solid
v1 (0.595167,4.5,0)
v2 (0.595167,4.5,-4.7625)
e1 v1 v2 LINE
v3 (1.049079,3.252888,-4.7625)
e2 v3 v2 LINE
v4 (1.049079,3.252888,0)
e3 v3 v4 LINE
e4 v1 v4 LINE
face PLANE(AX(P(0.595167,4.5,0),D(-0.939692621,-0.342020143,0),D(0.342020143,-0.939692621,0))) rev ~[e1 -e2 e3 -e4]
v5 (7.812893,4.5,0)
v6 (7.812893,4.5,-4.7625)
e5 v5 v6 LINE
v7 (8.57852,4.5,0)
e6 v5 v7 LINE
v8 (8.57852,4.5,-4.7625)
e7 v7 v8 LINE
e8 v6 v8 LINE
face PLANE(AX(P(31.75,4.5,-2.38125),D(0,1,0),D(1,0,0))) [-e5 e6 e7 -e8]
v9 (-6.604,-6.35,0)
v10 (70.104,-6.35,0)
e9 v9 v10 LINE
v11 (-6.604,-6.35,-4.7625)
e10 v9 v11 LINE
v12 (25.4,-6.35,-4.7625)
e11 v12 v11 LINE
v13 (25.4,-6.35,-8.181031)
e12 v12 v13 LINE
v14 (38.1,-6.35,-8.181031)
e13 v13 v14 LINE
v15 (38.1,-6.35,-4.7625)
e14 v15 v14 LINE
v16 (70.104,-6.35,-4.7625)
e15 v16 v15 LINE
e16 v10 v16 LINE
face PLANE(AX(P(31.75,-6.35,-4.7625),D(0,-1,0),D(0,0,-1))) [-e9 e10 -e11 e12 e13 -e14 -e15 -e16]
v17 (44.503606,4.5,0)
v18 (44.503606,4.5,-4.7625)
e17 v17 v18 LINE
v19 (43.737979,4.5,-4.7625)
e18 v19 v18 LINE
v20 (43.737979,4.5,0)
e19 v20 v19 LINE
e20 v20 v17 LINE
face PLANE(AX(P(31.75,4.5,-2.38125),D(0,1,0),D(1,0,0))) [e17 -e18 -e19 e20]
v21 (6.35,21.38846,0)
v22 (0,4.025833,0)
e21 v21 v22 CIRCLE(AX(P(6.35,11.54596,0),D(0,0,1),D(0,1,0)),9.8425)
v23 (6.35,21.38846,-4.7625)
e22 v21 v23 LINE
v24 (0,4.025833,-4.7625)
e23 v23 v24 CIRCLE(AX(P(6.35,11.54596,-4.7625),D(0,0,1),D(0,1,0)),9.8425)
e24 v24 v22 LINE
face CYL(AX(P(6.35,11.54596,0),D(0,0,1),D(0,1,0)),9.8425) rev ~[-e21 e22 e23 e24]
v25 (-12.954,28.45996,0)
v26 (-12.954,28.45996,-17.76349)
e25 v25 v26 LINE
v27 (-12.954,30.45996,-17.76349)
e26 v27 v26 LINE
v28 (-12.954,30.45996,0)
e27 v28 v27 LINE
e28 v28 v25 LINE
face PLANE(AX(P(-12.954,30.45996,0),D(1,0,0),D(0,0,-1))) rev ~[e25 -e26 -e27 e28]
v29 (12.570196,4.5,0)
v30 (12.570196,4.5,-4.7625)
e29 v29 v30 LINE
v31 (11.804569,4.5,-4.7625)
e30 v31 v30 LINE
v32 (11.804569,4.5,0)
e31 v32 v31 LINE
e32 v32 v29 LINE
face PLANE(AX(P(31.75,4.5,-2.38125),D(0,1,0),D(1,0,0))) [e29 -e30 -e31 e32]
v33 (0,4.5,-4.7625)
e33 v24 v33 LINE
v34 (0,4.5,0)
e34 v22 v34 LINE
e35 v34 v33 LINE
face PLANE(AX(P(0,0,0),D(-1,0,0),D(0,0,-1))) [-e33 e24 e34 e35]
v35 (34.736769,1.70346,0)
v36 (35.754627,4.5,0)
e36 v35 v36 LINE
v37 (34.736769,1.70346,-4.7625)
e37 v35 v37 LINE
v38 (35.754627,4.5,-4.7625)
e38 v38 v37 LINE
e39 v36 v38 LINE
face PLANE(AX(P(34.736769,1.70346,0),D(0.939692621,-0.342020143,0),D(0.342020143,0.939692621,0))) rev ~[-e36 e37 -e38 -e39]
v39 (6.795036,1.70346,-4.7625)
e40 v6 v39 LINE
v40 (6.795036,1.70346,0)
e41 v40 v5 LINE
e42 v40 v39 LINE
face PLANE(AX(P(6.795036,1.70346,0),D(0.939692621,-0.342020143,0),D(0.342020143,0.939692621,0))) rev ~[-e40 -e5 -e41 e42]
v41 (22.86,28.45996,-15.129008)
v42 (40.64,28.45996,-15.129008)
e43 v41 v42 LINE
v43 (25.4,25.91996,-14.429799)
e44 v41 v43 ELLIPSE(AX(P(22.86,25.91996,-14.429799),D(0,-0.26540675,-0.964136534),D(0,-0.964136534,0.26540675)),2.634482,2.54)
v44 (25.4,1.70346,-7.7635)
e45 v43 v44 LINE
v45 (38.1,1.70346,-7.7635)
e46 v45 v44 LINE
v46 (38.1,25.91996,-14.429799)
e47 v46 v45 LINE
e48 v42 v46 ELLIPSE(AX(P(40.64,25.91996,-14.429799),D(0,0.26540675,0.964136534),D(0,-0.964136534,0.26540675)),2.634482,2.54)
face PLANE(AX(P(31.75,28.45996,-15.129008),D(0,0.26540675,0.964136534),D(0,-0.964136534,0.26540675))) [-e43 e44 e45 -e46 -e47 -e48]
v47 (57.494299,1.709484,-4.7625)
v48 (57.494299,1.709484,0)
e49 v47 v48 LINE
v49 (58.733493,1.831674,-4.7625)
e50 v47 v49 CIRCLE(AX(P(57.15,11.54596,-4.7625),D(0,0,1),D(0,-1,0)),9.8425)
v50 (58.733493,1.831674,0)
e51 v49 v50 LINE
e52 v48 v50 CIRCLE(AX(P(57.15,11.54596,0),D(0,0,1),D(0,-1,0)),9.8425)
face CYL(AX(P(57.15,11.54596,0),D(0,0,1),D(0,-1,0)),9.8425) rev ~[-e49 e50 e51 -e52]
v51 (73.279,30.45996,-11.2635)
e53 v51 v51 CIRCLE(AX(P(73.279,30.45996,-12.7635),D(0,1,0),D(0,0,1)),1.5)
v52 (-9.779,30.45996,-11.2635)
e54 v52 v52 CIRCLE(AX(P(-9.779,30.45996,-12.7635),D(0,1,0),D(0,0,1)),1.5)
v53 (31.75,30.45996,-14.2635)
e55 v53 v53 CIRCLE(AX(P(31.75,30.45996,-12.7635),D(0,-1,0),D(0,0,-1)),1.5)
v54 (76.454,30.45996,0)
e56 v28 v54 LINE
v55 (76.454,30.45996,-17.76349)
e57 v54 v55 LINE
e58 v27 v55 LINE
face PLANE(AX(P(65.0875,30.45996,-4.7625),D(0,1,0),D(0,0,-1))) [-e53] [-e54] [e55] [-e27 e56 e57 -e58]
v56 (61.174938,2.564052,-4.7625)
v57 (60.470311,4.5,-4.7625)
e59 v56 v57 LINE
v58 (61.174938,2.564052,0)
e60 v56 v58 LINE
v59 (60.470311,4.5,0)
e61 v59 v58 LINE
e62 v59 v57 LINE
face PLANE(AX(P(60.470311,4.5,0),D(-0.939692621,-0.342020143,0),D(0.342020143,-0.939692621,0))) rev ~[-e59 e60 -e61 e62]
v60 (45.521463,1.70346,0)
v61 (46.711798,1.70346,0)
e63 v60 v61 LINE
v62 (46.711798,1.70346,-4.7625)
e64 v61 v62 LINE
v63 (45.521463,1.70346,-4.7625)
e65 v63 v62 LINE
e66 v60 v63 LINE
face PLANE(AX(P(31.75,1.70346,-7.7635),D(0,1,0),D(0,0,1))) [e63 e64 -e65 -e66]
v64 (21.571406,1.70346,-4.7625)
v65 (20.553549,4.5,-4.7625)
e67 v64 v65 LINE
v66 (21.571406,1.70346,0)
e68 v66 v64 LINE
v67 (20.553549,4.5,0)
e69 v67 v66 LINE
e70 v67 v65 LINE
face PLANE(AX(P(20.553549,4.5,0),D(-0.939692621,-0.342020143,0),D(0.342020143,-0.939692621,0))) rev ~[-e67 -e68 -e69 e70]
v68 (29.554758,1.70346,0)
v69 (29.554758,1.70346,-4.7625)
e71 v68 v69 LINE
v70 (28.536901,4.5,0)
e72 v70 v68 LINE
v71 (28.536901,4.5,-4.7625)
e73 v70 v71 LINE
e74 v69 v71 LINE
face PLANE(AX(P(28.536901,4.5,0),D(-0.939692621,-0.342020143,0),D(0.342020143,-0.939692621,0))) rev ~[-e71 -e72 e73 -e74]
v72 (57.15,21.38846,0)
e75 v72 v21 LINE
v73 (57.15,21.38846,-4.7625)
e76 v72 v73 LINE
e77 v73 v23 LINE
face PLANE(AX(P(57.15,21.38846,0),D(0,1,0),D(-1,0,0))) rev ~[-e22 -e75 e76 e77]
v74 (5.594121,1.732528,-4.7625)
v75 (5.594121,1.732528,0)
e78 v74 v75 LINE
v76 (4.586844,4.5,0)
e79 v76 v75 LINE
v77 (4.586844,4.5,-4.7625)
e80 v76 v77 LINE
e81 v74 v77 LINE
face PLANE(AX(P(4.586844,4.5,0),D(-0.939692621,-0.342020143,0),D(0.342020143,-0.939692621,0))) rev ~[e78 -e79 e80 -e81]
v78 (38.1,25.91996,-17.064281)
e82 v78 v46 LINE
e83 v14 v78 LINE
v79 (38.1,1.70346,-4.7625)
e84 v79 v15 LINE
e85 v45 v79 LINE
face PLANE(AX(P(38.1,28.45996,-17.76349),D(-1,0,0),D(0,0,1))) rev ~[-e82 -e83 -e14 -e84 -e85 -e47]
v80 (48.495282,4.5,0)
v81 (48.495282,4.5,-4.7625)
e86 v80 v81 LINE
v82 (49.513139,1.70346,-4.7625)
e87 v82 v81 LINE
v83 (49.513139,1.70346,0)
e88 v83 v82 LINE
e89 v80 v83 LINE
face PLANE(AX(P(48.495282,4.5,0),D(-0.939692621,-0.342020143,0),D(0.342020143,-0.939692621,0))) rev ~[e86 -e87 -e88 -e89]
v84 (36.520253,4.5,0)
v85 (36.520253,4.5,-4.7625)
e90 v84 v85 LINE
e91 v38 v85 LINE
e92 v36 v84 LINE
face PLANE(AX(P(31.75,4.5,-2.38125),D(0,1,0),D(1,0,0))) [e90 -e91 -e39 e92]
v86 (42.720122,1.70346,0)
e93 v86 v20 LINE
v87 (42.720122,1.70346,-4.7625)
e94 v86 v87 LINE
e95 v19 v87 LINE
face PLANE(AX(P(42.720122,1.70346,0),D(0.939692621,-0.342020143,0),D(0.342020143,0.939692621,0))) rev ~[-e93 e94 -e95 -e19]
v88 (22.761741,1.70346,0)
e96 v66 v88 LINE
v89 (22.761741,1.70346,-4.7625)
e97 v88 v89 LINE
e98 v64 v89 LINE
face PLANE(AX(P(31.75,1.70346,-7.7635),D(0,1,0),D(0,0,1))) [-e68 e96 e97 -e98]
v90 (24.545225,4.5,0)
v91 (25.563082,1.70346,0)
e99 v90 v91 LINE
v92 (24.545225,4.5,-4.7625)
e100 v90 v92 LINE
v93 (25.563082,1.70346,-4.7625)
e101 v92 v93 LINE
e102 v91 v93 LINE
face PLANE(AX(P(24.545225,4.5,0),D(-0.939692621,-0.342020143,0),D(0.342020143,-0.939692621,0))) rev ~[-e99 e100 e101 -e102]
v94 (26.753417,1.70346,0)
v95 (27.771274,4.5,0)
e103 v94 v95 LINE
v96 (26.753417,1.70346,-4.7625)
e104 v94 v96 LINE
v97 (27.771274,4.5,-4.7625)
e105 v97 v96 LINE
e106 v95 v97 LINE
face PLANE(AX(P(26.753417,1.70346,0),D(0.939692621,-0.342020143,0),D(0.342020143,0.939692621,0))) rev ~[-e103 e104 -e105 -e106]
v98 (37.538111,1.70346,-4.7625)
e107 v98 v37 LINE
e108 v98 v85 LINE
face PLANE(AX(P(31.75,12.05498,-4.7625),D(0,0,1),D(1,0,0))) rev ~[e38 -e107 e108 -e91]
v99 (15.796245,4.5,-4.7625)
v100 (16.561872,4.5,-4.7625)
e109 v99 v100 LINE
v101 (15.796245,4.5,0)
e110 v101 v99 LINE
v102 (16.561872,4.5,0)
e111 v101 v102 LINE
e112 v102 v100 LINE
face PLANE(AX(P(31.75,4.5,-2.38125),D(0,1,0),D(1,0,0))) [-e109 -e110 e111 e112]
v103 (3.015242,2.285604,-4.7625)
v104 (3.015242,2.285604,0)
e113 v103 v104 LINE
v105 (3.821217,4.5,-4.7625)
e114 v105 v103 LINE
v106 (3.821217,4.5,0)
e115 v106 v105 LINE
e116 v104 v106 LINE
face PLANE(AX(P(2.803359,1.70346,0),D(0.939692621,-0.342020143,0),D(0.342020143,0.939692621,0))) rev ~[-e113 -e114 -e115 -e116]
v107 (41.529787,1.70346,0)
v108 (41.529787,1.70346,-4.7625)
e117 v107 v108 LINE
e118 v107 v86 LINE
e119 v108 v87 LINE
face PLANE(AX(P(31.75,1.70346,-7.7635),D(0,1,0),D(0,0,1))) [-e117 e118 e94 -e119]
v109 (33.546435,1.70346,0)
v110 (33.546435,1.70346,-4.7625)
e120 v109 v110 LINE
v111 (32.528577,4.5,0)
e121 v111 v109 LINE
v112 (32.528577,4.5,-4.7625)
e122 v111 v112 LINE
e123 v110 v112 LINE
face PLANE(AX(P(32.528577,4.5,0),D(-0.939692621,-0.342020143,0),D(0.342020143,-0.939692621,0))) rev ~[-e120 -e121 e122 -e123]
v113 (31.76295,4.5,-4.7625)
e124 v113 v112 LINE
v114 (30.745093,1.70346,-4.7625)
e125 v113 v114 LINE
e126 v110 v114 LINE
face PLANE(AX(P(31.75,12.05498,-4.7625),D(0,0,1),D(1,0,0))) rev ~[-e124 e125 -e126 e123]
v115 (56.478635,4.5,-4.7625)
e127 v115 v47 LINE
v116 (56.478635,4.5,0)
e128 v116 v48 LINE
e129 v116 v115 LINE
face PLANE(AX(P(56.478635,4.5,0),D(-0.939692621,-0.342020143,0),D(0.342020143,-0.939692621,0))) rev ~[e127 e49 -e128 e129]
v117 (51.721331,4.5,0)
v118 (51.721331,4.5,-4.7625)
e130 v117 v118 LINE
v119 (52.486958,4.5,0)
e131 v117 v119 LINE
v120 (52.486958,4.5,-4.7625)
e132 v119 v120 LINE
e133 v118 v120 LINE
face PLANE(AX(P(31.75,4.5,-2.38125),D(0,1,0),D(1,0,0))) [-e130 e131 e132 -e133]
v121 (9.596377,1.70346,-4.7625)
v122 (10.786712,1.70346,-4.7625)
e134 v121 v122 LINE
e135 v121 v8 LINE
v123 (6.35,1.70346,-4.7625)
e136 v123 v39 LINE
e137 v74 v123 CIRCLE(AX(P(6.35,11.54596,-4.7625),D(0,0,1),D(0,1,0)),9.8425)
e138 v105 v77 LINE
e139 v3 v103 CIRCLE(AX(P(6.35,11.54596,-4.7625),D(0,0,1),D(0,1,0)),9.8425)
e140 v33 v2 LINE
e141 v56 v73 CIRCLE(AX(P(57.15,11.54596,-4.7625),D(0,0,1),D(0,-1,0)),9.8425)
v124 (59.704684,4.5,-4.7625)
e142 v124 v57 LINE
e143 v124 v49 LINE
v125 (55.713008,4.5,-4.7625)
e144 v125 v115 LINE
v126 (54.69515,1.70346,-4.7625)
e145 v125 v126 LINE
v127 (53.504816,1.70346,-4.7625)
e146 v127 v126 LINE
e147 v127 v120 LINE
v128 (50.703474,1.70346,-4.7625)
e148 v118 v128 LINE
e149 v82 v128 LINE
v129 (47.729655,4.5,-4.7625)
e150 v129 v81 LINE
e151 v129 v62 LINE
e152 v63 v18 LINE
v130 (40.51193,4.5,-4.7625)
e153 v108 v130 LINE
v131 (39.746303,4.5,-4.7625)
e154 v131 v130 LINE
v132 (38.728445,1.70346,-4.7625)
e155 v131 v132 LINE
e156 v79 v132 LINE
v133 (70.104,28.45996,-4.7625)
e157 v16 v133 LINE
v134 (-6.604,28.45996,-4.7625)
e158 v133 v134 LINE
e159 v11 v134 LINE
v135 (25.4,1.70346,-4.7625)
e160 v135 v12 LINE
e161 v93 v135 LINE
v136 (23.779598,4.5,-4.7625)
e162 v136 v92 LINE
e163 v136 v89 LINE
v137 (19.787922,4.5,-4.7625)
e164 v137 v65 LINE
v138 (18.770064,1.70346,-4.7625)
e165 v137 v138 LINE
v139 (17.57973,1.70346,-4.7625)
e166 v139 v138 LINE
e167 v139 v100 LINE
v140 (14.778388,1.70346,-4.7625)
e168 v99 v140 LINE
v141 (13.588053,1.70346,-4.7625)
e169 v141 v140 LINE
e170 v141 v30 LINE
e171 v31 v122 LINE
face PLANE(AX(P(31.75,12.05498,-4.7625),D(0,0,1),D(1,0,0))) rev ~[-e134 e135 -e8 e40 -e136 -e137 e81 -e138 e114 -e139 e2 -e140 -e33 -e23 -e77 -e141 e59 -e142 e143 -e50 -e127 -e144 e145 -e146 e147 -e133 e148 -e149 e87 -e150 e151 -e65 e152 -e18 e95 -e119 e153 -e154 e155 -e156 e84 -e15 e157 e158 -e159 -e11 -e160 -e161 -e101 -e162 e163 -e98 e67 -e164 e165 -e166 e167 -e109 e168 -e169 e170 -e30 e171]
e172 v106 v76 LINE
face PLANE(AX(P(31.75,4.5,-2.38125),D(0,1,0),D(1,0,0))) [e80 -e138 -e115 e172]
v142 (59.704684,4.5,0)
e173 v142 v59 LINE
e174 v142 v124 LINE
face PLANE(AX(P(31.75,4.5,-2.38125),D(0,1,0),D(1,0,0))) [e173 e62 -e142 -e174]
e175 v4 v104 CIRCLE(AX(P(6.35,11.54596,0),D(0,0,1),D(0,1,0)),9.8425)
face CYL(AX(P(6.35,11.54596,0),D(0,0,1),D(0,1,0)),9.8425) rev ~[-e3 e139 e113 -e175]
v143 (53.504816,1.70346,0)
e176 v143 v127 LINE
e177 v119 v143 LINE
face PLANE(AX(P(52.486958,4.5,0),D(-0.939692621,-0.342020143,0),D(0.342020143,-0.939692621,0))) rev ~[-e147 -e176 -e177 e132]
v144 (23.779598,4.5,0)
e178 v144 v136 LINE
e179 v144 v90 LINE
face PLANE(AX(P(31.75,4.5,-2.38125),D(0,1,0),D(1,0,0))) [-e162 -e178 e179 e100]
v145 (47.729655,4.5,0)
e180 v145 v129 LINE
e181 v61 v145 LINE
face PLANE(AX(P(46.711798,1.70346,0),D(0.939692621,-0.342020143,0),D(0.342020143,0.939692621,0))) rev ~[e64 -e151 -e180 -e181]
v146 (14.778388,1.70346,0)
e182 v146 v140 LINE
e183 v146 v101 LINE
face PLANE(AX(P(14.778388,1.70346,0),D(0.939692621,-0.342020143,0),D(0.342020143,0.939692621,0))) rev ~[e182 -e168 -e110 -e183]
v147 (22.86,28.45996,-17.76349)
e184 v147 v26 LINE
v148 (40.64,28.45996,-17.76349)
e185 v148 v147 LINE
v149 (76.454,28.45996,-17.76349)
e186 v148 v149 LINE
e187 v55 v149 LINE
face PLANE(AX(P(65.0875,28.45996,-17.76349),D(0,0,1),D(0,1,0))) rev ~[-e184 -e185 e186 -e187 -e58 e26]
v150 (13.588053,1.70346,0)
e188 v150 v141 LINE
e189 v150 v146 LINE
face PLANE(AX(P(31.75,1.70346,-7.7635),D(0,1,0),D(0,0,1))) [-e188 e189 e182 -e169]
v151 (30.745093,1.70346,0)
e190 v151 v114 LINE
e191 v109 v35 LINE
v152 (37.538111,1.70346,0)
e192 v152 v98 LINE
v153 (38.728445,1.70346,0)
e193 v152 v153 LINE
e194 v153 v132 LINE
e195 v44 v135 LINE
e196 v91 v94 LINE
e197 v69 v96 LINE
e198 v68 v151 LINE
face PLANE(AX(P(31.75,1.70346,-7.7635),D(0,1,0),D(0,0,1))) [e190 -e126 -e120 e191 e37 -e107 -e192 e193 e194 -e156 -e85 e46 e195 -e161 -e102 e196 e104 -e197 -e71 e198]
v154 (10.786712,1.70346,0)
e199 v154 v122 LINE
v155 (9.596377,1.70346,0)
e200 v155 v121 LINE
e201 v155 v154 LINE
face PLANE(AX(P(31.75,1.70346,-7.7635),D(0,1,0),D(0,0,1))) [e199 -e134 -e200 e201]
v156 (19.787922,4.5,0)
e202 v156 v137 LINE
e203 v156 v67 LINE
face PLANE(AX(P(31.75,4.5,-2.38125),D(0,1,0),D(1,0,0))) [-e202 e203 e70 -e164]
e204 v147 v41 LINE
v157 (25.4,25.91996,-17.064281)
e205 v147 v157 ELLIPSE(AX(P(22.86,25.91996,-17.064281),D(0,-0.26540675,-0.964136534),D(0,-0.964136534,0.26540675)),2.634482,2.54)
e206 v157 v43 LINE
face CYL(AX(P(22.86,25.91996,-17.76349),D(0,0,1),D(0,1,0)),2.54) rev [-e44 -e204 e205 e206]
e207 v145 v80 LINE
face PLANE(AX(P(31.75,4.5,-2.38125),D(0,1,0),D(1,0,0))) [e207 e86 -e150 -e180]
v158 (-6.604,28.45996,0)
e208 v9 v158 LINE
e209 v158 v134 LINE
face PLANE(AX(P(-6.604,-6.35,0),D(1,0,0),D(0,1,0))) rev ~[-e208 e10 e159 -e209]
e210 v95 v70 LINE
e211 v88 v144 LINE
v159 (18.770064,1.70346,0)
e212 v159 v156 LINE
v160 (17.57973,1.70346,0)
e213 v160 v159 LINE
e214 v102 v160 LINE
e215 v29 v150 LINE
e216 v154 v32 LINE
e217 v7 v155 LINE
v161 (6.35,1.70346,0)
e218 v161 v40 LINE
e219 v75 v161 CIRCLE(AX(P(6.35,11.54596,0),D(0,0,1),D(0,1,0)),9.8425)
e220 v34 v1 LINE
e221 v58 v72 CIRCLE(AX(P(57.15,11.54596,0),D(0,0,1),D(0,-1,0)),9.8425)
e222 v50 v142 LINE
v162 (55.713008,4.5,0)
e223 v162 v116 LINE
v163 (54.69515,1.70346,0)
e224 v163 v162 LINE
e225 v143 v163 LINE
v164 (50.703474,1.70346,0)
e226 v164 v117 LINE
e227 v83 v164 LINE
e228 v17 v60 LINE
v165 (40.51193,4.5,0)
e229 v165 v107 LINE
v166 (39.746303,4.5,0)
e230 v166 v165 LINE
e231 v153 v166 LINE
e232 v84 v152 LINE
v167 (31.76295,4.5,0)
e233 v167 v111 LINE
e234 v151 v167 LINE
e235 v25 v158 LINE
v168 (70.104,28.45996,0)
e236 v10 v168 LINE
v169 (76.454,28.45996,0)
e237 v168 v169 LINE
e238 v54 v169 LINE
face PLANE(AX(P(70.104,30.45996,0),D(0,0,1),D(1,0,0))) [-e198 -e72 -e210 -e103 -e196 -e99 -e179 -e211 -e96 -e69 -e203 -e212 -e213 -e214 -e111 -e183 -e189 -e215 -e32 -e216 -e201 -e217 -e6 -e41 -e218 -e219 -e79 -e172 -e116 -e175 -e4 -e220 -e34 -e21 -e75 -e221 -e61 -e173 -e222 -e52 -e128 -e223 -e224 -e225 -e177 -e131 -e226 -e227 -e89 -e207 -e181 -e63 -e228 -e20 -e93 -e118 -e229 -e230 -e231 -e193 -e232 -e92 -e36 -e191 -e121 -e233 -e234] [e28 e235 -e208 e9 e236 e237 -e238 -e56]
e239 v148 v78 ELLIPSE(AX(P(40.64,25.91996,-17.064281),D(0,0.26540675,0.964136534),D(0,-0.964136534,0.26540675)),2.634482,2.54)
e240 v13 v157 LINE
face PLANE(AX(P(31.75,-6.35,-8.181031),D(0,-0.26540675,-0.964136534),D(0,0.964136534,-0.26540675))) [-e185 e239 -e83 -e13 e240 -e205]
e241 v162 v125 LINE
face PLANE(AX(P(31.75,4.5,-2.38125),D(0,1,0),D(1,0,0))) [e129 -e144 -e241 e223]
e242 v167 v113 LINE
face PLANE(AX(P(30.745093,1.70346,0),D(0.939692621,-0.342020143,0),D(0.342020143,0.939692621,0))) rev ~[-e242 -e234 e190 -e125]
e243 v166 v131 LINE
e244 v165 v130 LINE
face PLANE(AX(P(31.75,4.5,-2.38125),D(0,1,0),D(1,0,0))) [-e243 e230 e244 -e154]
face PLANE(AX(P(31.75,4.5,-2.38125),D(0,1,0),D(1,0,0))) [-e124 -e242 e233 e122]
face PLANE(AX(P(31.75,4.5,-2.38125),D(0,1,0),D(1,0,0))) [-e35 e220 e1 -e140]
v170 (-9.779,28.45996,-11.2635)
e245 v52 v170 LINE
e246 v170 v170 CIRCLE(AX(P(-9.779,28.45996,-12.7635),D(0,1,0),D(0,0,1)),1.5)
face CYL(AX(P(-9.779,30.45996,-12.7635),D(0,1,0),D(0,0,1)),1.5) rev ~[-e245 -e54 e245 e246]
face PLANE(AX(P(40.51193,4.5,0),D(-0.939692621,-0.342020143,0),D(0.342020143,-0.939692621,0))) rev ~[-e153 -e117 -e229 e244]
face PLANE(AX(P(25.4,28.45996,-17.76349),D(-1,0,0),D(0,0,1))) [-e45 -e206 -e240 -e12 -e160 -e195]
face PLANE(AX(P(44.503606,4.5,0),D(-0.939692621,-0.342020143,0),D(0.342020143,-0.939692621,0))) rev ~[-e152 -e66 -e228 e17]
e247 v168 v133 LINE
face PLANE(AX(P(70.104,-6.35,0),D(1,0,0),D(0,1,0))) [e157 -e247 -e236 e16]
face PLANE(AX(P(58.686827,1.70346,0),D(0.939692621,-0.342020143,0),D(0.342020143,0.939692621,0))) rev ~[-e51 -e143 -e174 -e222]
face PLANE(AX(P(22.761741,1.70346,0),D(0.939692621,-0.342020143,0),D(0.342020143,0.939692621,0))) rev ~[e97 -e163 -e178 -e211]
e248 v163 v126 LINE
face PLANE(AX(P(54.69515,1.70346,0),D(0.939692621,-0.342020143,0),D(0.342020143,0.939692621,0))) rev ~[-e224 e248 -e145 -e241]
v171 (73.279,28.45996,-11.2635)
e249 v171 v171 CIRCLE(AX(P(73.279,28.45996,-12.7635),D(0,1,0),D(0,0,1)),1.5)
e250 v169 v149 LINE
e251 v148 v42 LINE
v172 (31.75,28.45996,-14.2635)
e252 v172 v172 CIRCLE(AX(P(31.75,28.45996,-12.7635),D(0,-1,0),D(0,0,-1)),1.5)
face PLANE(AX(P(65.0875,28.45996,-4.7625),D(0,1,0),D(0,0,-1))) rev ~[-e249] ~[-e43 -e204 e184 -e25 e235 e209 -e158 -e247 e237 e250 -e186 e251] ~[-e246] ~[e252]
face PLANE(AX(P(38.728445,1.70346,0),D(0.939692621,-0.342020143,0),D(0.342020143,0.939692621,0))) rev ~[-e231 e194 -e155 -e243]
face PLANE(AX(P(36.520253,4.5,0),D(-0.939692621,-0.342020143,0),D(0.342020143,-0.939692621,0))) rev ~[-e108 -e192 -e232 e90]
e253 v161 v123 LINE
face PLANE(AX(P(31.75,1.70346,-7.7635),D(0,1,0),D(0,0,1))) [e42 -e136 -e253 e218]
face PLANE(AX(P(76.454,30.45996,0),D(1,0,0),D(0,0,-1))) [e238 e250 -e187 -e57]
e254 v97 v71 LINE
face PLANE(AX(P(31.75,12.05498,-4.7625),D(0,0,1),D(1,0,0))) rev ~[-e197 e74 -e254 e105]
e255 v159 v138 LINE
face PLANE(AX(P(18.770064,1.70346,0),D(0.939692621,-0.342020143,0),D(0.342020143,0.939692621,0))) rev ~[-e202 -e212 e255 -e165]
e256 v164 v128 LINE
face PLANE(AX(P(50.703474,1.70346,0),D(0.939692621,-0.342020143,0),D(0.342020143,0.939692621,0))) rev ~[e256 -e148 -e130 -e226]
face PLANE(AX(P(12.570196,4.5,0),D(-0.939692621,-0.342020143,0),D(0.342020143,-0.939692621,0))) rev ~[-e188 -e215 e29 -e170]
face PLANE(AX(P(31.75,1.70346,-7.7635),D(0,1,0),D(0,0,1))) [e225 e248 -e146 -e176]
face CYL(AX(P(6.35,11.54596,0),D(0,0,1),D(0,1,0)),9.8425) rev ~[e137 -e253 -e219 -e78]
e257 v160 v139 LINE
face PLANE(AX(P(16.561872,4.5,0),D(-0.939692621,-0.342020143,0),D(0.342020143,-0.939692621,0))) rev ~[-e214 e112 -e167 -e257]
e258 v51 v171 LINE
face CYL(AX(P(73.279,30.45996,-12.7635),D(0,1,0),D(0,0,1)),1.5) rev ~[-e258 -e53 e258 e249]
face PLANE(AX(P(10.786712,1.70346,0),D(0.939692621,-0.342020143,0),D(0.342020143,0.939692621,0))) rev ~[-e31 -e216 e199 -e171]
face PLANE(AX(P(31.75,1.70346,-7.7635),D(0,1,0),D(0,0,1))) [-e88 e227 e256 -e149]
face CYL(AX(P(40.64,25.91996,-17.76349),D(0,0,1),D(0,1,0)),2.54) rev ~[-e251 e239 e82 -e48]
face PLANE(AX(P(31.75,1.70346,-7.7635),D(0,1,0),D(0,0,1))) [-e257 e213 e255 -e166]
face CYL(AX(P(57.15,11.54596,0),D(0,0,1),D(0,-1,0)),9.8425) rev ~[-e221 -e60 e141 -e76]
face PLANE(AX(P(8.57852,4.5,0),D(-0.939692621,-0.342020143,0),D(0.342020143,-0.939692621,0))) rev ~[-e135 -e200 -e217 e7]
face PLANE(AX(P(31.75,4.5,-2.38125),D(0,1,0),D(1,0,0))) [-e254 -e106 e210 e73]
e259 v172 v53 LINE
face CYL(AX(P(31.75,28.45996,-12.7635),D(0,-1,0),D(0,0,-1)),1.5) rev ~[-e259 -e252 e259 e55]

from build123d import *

# Parameters (mm, degrees)
SKETCH1_W           = 63.5
SKETCH1_H           = 4.7625
BOSS_EXTRUDE1_DEPTH = 4.5
CUT_EXTRUDE1_DEPTH  = 64.837147542
SKETCH4_W           = 76.708
SKETCH4_H           = 36.80996
BOSS_EXTRUDE2_DEPTH = 4.7625
SKETCH6_W           = 6.35
SKETCH6_H           = 17.76349
SKETCH6_R           = 1.5
BOSS_EXTRUDE3_DEPTH = 2
BOSS_EXTRUDE4_DEPTH = 25.4
BOSS_EXTRUDE5_DEPTH = 33.3375
SKETCH8_W           = 19.05
SKETCH8_H           = 13.00099
CUT_EXTRUDE2_DEPTH  = 86.863199382
SKETCH9_R           = 1.5
CUT_EXTRUDE3_DEPTH  = 86.863199382
FILLET1_R           = 2.54
SKETCH10_W          = 13.00099
SKETCH10_H          = 2
BOSS_EXTRUDE6_DEPTH = 5.0165
SKETCH11_W          = 13.00099
SKETCH11_H          = 2
BOSS_EXTRUDE7_DEPTH = 5.0165


with BuildPart() as part:
    # Sketch1 → Boss-Extrude1 (new body)
    with BuildSketch(Plane(origin=(0, 0, 0), x_dir=(1, 0, 0), z_dir=(0, 1, 0))):
        with Locations((31.75, 2.38125)):
            Rectangle(SKETCH1_W, SKETCH1_H)
    extrude(amount=BOSS_EXTRUDE1_DEPTH)

    # Sketch2 → Cut-Extrude1 (cut, through all)
    with BuildSketch(Plane.XY):
        Polygon((0.595167363, 4.5), (1.613024682, 1.70346), (2.208192045, 1.70346), (2.803359408, 1.70346), (3.821216727, 4.5), align=None)
        Polygon((4.586843593, 4.5), (5.604700912, 1.70346), (6.199868275, 1.70346), (6.795035638, 1.70346), (7.812892957, 4.5), align=None)
        Polygon((8.578519823, 4.5), (9.596377142, 1.70346), (10.191544505, 1.70346), (10.786711868, 1.70346), (11.804569186, 4.5), align=None)
        Polygon((12.570196052, 4.5), (13.588053371, 1.70346), (14.183220734, 1.70346), (14.778388097, 1.70346), (15.796245416, 4.5), align=None)
        Polygon((16.561872282, 4.5), (17.579729601, 1.70346), (18.174896964, 1.70346), (18.770064327, 1.70346), (19.787921646, 4.5), align=None)
        Polygon((20.553548512, 4.5), (21.571405831, 1.70346), (22.166573194, 1.70346), (22.761740557, 1.70346), (23.779597876, 4.5), align=None)
        Polygon((24.545224742, 4.5), (25.563082061, 1.70346), (26.158249424, 1.70346), (26.753416787, 1.70346), (27.771274106, 4.5), align=None)
        Polygon((28.536900972, 4.5), (29.554758291, 1.70346), (30.149925654, 1.70346), (30.745093017, 1.70346), (31.762950336, 4.5), align=None)
        Polygon((32.528577202, 4.5), (33.546434521, 1.70346), (34.141601884, 1.70346), (34.736769246, 1.70346), (35.754626565, 4.5), align=None)
        Polygon((36.520253431, 4.5), (37.53811075, 1.70346), (38.133278113, 1.70346), (38.728445476, 1.70346), (39.746302795, 4.5), align=None)
        Polygon((40.511929661, 4.5), (41.52978698, 1.70346), (42.124954343, 1.70346), (42.720121706, 1.70346), (43.737979025, 4.5), align=None)
        Polygon((44.503605891, 4.5), (45.52146321, 1.70346), (46.116630573, 1.70346), (46.711797936, 1.70346), (47.729655255, 4.5), align=None)
        Polygon((48.495282121, 4.5), (49.51313944, 1.70346), (50.108306803, 1.70346), (50.703474166, 1.70346), (51.721331485, 4.5), align=None)
        Polygon((52.486958351, 4.5), (53.50481567, 1.70346), (54.099983033, 1.70346), (54.695150396, 1.70346), (55.713007715, 4.5), align=None)
        Polygon((56.478634581, 4.5), (57.496491899, 1.70346), (58.091659262, 1.70346), (58.686826625, 1.70346), (59.704683944, 4.5), align=None)
        Polygon((60.47031081, 4.5), (61.488168129, 1.70346), (62.083335492, 1.70346), (62.678502855, 1.70346), (63.696360174, 4.5), align=None)
        Polygon((64.46198704, 4.5), (65.479844359, 1.70346), (66.075011722, 1.70346), (66.670179085, 1.70346), (67.688036404, 4.5), align=None)
        Polygon((68.45366327, 4.5), (69.471520589, 1.70346), (70.066687952, 1.70346), (70.661855315, 1.70346), (71.679712634, 4.5), align=None)
        Polygon((72.4453395, 4.5), (73.463196819, 1.70346), (74.058364182, 1.70346), (74.653531545, 1.70346), (75.671388864, 4.5), align=None)
        Polygon((76.43701573, 4.5), (77.454873049, 1.70346), (78.050040412, 1.70346), (78.645207775, 1.70346), (79.663065094, 4.5), align=None)
        Polygon((80.42869196, 4.5), (81.446549278, 1.70346), (82.041716641, 1.70346), (82.636884004, 1.70346), (83.654741323, 4.5), align=None)
        Polygon((84.420368189, 4.5), (85.438225508, 1.70346), (86.033392871, 1.70346), (86.628560234, 1.70346), (87.646417553, 4.5), align=None)
        Polygon((88.412044419, 4.5), (89.429901738, 1.70346), (90.025069101, 1.70346), (90.620236464, 1.70346), (91.638093783, 4.5), align=None)
        Polygon((92.403720649, 4.5), (93.421577968, 1.70346), (94.016745331, 1.70346), (94.611912694, 1.70346), (95.629770013, 4.5), align=None)
        Polygon((96.395396879, 4.5), (97.413254198, 1.70346), (98.008421561, 1.70346), (98.603588924, 1.70346), (99.621446243, 4.5), align=None)
        Polygon((100.387073109, 4.5), (101.404930428, 1.70346), (102.000097791, 1.70346), (102.595265154, 1.70346), (103.613122472, 4.5), align=None)
        Polygon((104.378749338, 4.5), (105.396606657, 1.70346), (105.99177402, 1.70346), (106.586941383, 1.70346), (107.604798702, 4.5), align=None)
        Polygon((108.370425568, 4.5), (109.388282887, 1.70346), (109.98345025, 1.70346), (110.578617613, 1.70346), (111.596474932, 4.5), align=None)
        Polygon((112.362101798, 4.5), (113.379959117, 1.70346), (113.97512648, 1.70346), (114.570293843, 1.70346), (115.588151162, 4.5), align=None)
        Polygon((116.353778028, 4.5), (117.371635347, 1.70346), (117.96680271, 1.70346), (118.561970073, 1.70346), (119.579827392, 4.5), align=None)
        Polygon((120.345454258, 4.5), (121.363311577, 1.70346), (121.95847894, 1.70346), (122.553646303, 1.70346), (123.571503622, 4.5), align=None)
        Polygon((124.337130488, 4.5), (125.354987807, 1.70346), (125.95015517, 1.70346), (126.545322532, 1.70346), (127.563179851, 4.5), align=None)
        Polygon((128.328806717, 4.5), (129.346664036, 1.70346), (129.941831399, 1.70346), (130.536998762, 1.70346), (131.554856081, 4.5), align=None)
        Polygon((132.320482947, 4.5), (133.338340266, 1.70346), (133.933507629, 1.70346), (134.528674992, 1.70346), (135.546532311, 4.5), align=None)
        Polygon((136.312159177, 4.5), (137.330016496, 1.70346), (137.925183859, 1.70346), (138.520351222, 1.70346), (139.538208541, 4.5), align=None)
        Polygon((140.303835407, 4.5), (141.321692726, 1.70346), (141.916860089, 1.70346), (142.512027452, 1.70346), (143.529884771, 4.5), align=None)
        Polygon((144.295511637, 4.5), (145.313368956, 1.70346), (145.908536319, 1.70346), (146.503703682, 1.70346), (147.521561001, 4.5), align=None)
        Polygon((148.287187867, 4.5), (149.305045185, 1.70346), (149.900212548, 1.70346), (150.495379911, 1.70346), (151.51323723, 4.5), align=None)
        Polygon((152.278864096, 4.5), (153.296721415, 1.70346), (153.891888778, 1.70346), (154.487056141, 1.70346), (155.50491346, 4.5), align=None)
        Polygon((156.270540326, 4.5), (157.288397645, 1.70346), (157.883565008, 1.70346), (158.478732371, 1.70346), (159.49658969, 4.5), align=None)
        Polygon((160.262216556, 4.5), (161.280073875, 1.70346), (161.875241238, 1.70346), (162.470408601, 1.70346), (163.48826592, 4.5), align=None)
        Polygon((164.253892786, 4.5), (165.271750105, 1.70346), (165.866917468, 1.70346), (166.462084831, 1.70346), (167.47994215, 4.5), align=None)
        Polygon((168.245569016, 4.5), (169.263426335, 1.70346), (169.858593698, 1.70346), (170.453761061, 1.70346), (171.47161838, 4.5), align=None)
        Polygon((172.237245246, 4.5), (173.255102564, 1.70346), (173.850269927, 1.70346), (174.44543729, 1.70346), (175.463294609, 4.5), align=None)
        Polygon((176.228921475, 4.5), (177.246778794, 1.70346), (177.841946157, 1.70346), (178.43711352, 1.70346), (179.454970839, 4.5), align=None)
        Polygon((180.220597705, 4.5), (181.238455024, 1.70346), (181.833622387, 1.70346), (182.42878975, 1.70346), (183.446647069, 4.5), align=None)
        Polygon((184.212273935, 4.5), (185.230131254, 1.70346), (185.825298617, 1.70346), (186.42046598, 1.70346), (187.438323299, 4.5), align=None)
        Polygon((188.203950165, 4.5), (189.221807484, 1.70346), (189.816974847, 1.70346), (190.41214221, 1.70346), (191.429999529, 4.5), align=None)
        Polygon((192.195626395, 4.5), (193.213483714, 1.70346), (193.808651077, 1.70346), (194.40381844, 1.70346), (195.421675758, 4.5), align=None)
        Polygon((196.187302624, 4.5), (197.205159943, 1.70346), (197.800327306, 1.70346), (198.395494669, 1.70346), (199.413351988, 4.5), align=None)
        Polygon((200.178978854, 4.5), (201.196836173, 1.70346), (201.792003536, 1.70346), (202.387170899, 1.70346), (203.405028218, 4.5), align=None)
        Polygon((204.170655084, 4.5), (205.188512403, 1.70346), (205.783679766, 1.70346), (206.378847129, 1.70346), (207.396704448, 4.5), align=None)
        Polygon((208.162331314, 4.5), (209.180188633, 1.70346), (209.775355996, 1.70346), (210.370523359, 1.70346), (211.388380678, 4.5), align=None)
        Polygon((212.154007544, 4.5), (213.171864863, 1.70346), (213.767032226, 1.70346), (214.362199589, 1.70346), (215.380056908, 4.5), align=None)
        Polygon((216.145683774, 4.5), (217.163541093, 1.70346), (217.758708456, 1.70346), (218.353875818, 1.70346), (219.371733137, 4.5), align=None)
        Polygon((220.137360003, 4.5), (221.155217322, 1.70346), (221.750384685, 1.70346), (222.345552048, 1.70346), (223.363409367, 4.5), align=None)
        Polygon((224.129036233, 4.5), (225.146893552, 1.70346), (225.742060915, 1.70346), (226.337228278, 1.70346), (227.355085597, 4.5), align=None)
        Polygon((228.120712463, 4.5), (229.138569782, 1.70346), (229.733737145, 1.70346), (230.328904508, 1.70346), (231.346761827, 4.5), align=None)
        Polygon((232.112388693, 4.5), (233.130246012, 1.70346), (233.725413375, 1.70346), (234.320580738, 1.70346), (235.338438057, 4.5), align=None)
        Polygon((236.104064923, 4.5), (237.121922242, 1.70346), (237.717089605, 1.70346), (238.312256968, 1.70346), (239.330114287, 4.5), align=None)
        Polygon((240.095741153, 4.5), (241.113598471, 1.70346), (241.708765834, 1.70346), (242.303933197, 1.70346), (243.321790516, 4.5), align=None)
        Polygon((244.087417382, 4.5), (245.105274701, 1.70346), (245.700442064, 1.70346), (246.295609427, 1.70346), (247.313466746, 4.5), align=None)
        Polygon((248.079093612, 4.5), (249.096950931, 1.70346), (249.692118294, 1.70346), (250.287285657, 1.70346), (251.305142976, 4.5), align=None)
        Polygon((252.070769842, 4.5), (253.088627161, 1.70346), (253.683794524, 1.70346), (254.278961887, 1.70346), (255.296819206, 4.5), align=None)
        Polygon((256.062446072, 4.5), (257.080303391, 1.70346), (257.675470754, 1.70346), (258.270638117, 1.70346), (259.288495436, 4.5), align=None)
        Polygon((260.054122302, 4.5), (261.071979621, 1.70346), (261.667146984, 1.70346), (262.262314347, 1.70346), (263.280171666, 4.5), align=None)
        Polygon((264.045798532, 4.5), (265.06365585, 1.70346), (265.658823213, 1.70346), (266.253990576, 1.70346), (267.271847895, 4.5), align=None)
        Polygon((268.037474761, 4.5), (269.05533208, 1.70346), (269.650499443, 1.70346), (270.245666806, 1.70346), (271.263524125, 4.5), align=None)
        Polygon((272.029150991, 4.5), (273.04700831, 1.70346), (273.642175673, 1.70346), (274.237343036, 1.70346), (275.255200355, 4.5), align=None)
        Polygon((276.020827221, 4.5), (277.03868454, 1.70346), (277.633851903, 1.70346), (278.229019266, 1.70346), (279.246876585, 4.5), align=None)
        Polygon((280.012503451, 4.5), (281.03036077, 1.70346), (281.625528133, 1.70346), (282.220695496, 1.70346), (283.238552815, 4.5), align=None)
        Polygon((284.004179681, 4.5), (285.022037, 1.70346), (285.617204363, 1.70346), (286.212371726, 1.70346), (287.230229044, 4.5), align=None)
        Polygon((287.99585591, 4.5), (289.013713229, 1.70346), (289.608880592, 1.70346), (290.204047955, 1.70346), (291.221905274, 4.5), align=None)
        Polygon((291.98753214, 4.5), (293.005389459, 1.70346), (293.600556822, 1.70346), (294.195724185, 1.70346), (295.213581504, 4.5), align=None)
        Polygon((295.97920837, 4.5), (296.997065689, 1.70346), (297.592233052, 1.70346), (298.187400415, 1.70346), (299.205257734, 4.5), align=None)
        Polygon((299.9708846, 4.5), (300.988741919, 1.70346), (301.583909282, 1.70346), (302.179076645, 1.70346), (303.196933964, 4.5), align=None)
        Polygon((303.96256083, 4.5), (304.980418149, 1.70346), (305.575585512, 1.70346), (306.170752875, 1.70346), (307.188610194, 4.5), align=None)
        Polygon((307.95423706, 4.5), (308.972094379, 1.70346), (309.567261742, 1.70346), (310.162429104, 1.70346), (311.180286423, 4.5), align=None)
        Polygon((311.945913289, 4.5), (312.963770608, 1.70346), (313.558937971, 1.70346), (314.154105334, 1.70346), (315.171962653, 4.5), align=None)
        Polygon((315.937589519, 4.5), (316.955446838, 1.70346), (317.550614201, 1.70346), (318.145781564, 1.70346), (319.163638883, 4.5), align=None)
        Polygon((319.929265749, 4.5), (320.947123068, 1.70346), (321.542290431, 1.70346), (322.137457794, 1.70346), (323.155315113, 4.5), align=None)
        Polygon((323.920941979, 4.5), (324.938799298, 1.70346), (325.533966661, 1.70346), (326.129134024, 1.70346), (327.146991343, 4.5), align=None)
        Polygon((327.912618209, 4.5), (328.930475528, 1.70346), (329.525642891, 1.70346), (330.120810254, 1.70346), (331.138667573, 4.5), align=None)
        Polygon((331.904294439, 4.5), (332.922151757, 1.70346), (333.51731912, 1.70346), (334.112486483, 1.70346), (335.130343802, 4.5), align=None)
        Polygon((335.895970668, 4.5), (336.913827987, 1.70346), (337.50899535, 1.70346), (338.104162713, 1.70346), (339.122020032, 4.5), align=None)
        Polygon((339.887646898, 4.5), (340.905504217, 1.70346), (341.50067158, 1.70346), (342.095838943, 1.70346), (343.113696262, 4.5), align=None)
        Polygon((343.879323128, 4.5), (344.897180447, 1.70346), (345.49234781, 1.70346), (346.087515173, 1.70346), (347.105372492, 4.5), align=None)
        Polygon((347.870999358, 4.5), (348.888856677, 1.70346), (349.48402404, 1.70346), (350.079191403, 1.70346), (351.097048722, 4.5), align=None)
        Polygon((351.862675588, 4.5), (352.880532907, 1.70346), (353.47570027, 1.70346), (354.070867633, 1.70346), (355.088724952, 4.5), align=None)
        Polygon((355.854351818, 4.5), (356.872209136, 1.70346), (357.467376499, 1.70346), (358.062543862, 1.70346), (359.080401181, 4.5), align=None)
        Polygon((359.846028047, 4.5), (360.863885366, 1.70346), (361.459052729, 1.70346), (362.054220092, 1.70346), (363.072077411, 4.5), align=None)
        Polygon((363.837704277, 4.5), (364.855561596, 1.70346), (365.450728959, 1.70346), (366.045896322, 1.70346), (367.063753641, 4.5), align=None)
        Polygon((367.829380507, 4.5), (368.847237826, 1.70346), (369.442405189, 1.70346), (370.037572552, 1.70346), (371.055429871, 4.5), align=None)
        Polygon((371.821056737, 4.5), (372.838914056, 1.70346), (373.434081419, 1.70346), (374.029248782, 1.70346), (375.047106101, 4.5), align=None)
        Polygon((375.812732967, 4.5), (376.830590286, 1.70346), (377.425757649, 1.70346), (378.020925012, 1.70346), (379.03878233, 4.5), align=None)
        Polygon((379.804409196, 4.5), (380.822266515, 1.70346), (381.417433878, 1.70346), (382.012601241, 1.70346), (383.03045856, 4.5), align=None)
        Polygon((383.796085426, 4.5), (384.813942745, 1.70346), (385.409110108, 1.70346), (386.004277471, 1.70346), (387.02213479, 4.5), align=None)
        Polygon((387.787761656, 4.5), (388.805618975, 1.70346), (389.400786338, 1.70346), (389.995953701, 1.70346), (391.01381102, 4.5), align=None)
        Polygon((391.779437886, 4.5), (392.797295205, 1.70346), (393.392462568, 1.70346), (393.987629931, 1.70346), (395.00548725, 4.5), align=None)
        Polygon((395.771114116, 4.5), (396.788971435, 1.70346), (397.384138798, 1.70346), (397.979306161, 1.70346), (398.99716348, 4.5), align=None)
        Polygon((399.762790346, 4.5), (400.780647665, 1.70346), (401.375815028, 1.70346), (401.97098239, 1.70346), (402.988839709, 4.5), align=None)
        Polygon((403.754466575, 4.5), (404.772323894, 1.70346), (405.367491257, 1.70346), (405.96265862, 1.70346), (406.980515939, 4.5), align=None)
        Polygon((407.746142805, 4.5), (408.764000124, 1.70346), (409.359167487, 1.70346), (409.95433485, 1.70346), (410.972192169, 4.5), align=None)
        Polygon((411.737819035, 4.5), (412.755676354, 1.70346), (413.350843717, 1.70346), (413.94601108, 1.70346), (414.963868399, 4.5), align=None)
        Polygon((415.729495265, 4.5), (416.747352584, 1.70346), (417.342519947, 1.70346), (417.93768731, 1.70346), (418.955544629, 4.5), align=None)
        Polygon((419.721171495, 4.5), (420.739028814, 1.70346), (421.334196177, 1.70346), (421.92936354, 1.70346), (422.947220859, 4.5), align=None)
        Polygon((423.712847725, 4.5), (424.730705043, 1.70346), (425.325872406, 1.70346), (425.921039769, 1.70346), (426.938897088, 4.5), align=None)
        Polygon((427.704523954, 4.5), (428.722381273, 1.70346), (429.317548636, 1.70346), (429.912715999, 1.70346), (430.930573318, 4.5), align=None)
        Polygon((431.696200184, 4.5), (432.714057503, 1.70346), (433.309224866, 1.70346), (433.904392229, 1.70346), (434.922249548, 4.5), align=None)
        Polygon((435.687876414, 4.5), (436.705733733, 1.70346), (437.300901096, 1.70346), (437.896068459, 1.70346), (438.913925778, 4.5), align=None)
        Polygon((439.679552644, 4.5), (440.697409963, 1.70346), (441.292577326, 1.70346), (441.887744689, 1.70346), (442.905602008, 4.5), align=None)
        Polygon((443.671228874, 4.5), (444.689086193, 1.70346), (445.284253556, 1.70346), (445.879420919, 1.70346), (446.897278238, 4.5), align=None)
        Polygon((447.662905104, 4.5), (448.680762422, 1.70346), (449.275929785, 1.70346), (449.871097148, 1.70346), (450.888954467, 4.5), align=None)
        Polygon((451.654581333, 4.5), (452.672438652, 1.70346), (453.267606015, 1.70346), (453.862773378, 1.70346), (454.880630697, 4.5), align=None)
        Polygon((455.646257563, 4.5), (456.664114882, 1.70346), (457.259282245, 1.70346), (457.854449608, 1.70346), (458.872306927, 4.5), align=None)
        Polygon((459.637933793, 4.5), (460.655791112, 1.70346), (461.250958475, 1.70346), (461.846125838, 1.70346), (462.863983157, 4.5), align=None)
        Polygon((463.629610023, 4.5), (464.647467342, 1.70346), (465.242634705, 1.70346), (465.837802068, 1.70346), (466.855659387, 4.5), align=None)
        Polygon((467.621286253, 4.5), (468.639143572, 1.70346), (469.234310935, 1.70346), (469.829478298, 1.70346), (470.847335616, 4.5), align=None)
        Polygon((471.612962482, 4.5), (472.630819801, 1.70346), (473.225987164, 1.70346), (473.821154527, 1.70346), (474.839011846, 4.5), align=None)
        Polygon((475.604638712, 4.5), (476.622496031, 1.70346), (477.217663394, 1.70346), (477.812830757, 1.70346), (478.830688076, 4.5), align=None)
        Polygon((479.596314942, 4.5), (480.614172261, 1.70346), (481.209339624, 1.70346), (481.804506987, 1.70346), (482.822364306, 4.5), align=None)
        Polygon((483.587991172, 4.5), (484.605848491, 1.70346), (485.201015854, 1.70346), (485.796183217, 1.70346), (486.814040536, 4.5), align=None)
        Polygon((487.579667402, 4.5), (488.597524721, 1.70346), (489.192692084, 1.70346), (489.787859447, 1.70346), (490.805716766, 4.5), align=None)
        Polygon((491.571343632, 4.5), (492.589200951, 1.70346), (493.184368314, 1.70346), (493.779535676, 1.70346), (494.797392995, 4.5), align=None)
        Polygon((495.563019861, 4.5), (496.58087718, 1.70346), (497.176044543, 1.70346), (497.771211906, 1.70346), (498.789069225, 4.5), align=None)
    extrude(amount=-CUT_EXTRUDE1_DEPTH, mode=Mode.SUBTRACT)

    # Sketch4 → Boss-Extrude2 (add)
    with BuildSketch(Plane.XY):
        with Locations((31.75, 12.05498)):
            Rectangle(SKETCH4_W, SKETCH4_H)
        with BuildLine():
            Line((57.15, 21.38846), (6.35, 21.38846))
            ThreePointArc((6.35, 21.38846), (-3.4925, 11.54596), (6.35, 1.70346))
            Line((6.35, 1.70346), (57.15, 1.70346))
            ThreePointArc((57.15, 1.70346), (66.9925, 11.54596), (57.15, 21.38846))
        make_face(mode=Mode.SUBTRACT)
    extrude(amount=-BOSS_EXTRUDE2_DEPTH)

    # Sketch6 → Boss-Extrude3 (add)
    # profile 1 of 2: a face of its own
    with BuildSketch(Plane(origin=(0, 30.45996, 0), x_dir=(1, 0, 0), z_dir=(0, 1, 0))):
        with Locations((73.279, 8.881745)):
            Rectangle(SKETCH6_W, SKETCH6_H)
        with Locations(Location((73.279, 12.7635, 0), (0, 0, 270))):
            Circle(SKETCH6_R, mode=Mode.SUBTRACT)
    # profile 2 of 2: a face of its own
    with BuildSketch(Plane(origin=(0, 30.45996, 0), x_dir=(1, 0, 0), z_dir=(0, 1, 0))):
        with Locations((-9.779, 8.881745)):
            Rectangle(SKETCH6_W, SKETCH6_H)
        with Locations(Location((-9.779, 12.7635, 0), (0, 0, 270))):
            Circle(SKETCH6_R, mode=Mode.SUBTRACT)
    extrude(amount=-BOSS_EXTRUDE3_DEPTH)

    # Sketch7 → Boss-Extrude4 (add, symmetric)
    with BuildSketch(Plane(origin=(31.75, 0, 0), x_dir=(0, 0, -1), z_dir=(1, 0, 0))):
        Polygon((4.7625, -6.35), (8.181031482, -6.35), (17.76349, 28.45996), (15.129008358, 28.45996), (7.7635, 1.70346), (4.7625, 1.70346), align=None)
    extrude(amount=BOSS_EXTRUDE4_DEPTH, both=True)

    # Sketch7<3> → Boss-Extrude5 (add, symmetric)
    with BuildSketch(Plane(origin=(31.75, 0, 0), x_dir=(0, 0, -1), z_dir=(1, 0, 0))):
        Polygon((17.76349, 28.45996), (15.129008358, 28.45996), (4.7625, 28.45996), (4.7625, 30.45996), (17.76349, 30.45996), align=None)
    extrude(amount=BOSS_EXTRUDE5_DEPTH, both=True)

    # Sketch8 → Cut-Extrude2 (cut, through all)
    with BuildSketch(Plane.XZ.offset(-28.45996)):
        with Locations((15.875, -11.262995)):
            Rectangle(SKETCH8_W, SKETCH8_H)
        with Locations((47.625, -11.262995)):
            Rectangle(SKETCH8_W, SKETCH8_H)
    extrude(amount=CUT_EXTRUDE2_DEPTH, mode=Mode.SUBTRACT)

    # Sketch9 → Cut-Extrude3 (cut, through all)
    with BuildSketch(Plane.XZ.offset(-28.45996)):
        with Locations(Location((31.75, -12.7635, 0), (0, 0, 270))):
            Circle(SKETCH9_R)
    extrude(amount=-CUT_EXTRUDE3_DEPTH, mode=Mode.SUBTRACT)

    # Fillet1
    fillet1_edges = [part.edges().sort_by_distance(p)[0] for p in [
        (25.4, 28.45996, -16.446249179),
        (38.1, 28.45996, -16.446249179),
    ]]
    fillet(fillet1_edges, radius=FILLET1_R)

    # Sketch10 → Boss-Extrude6 (add)
    with BuildSketch(Plane.ZY.offset(1.5875)):
        with Locations((-11.262995, 29.45996)):
            Rectangle(SKETCH10_W, SKETCH10_H)
    extrude(amount=BOSS_EXTRUDE6_DEPTH)

    # Sketch11 → Boss-Extrude7 (add)
    with BuildSketch(Plane(origin=(65.0875, 0, 0), x_dir=(0, 0, -1), z_dir=(1, 0, 0))):
        with Locations((11.262995, 29.45996)):
            Rectangle(SKETCH11_W, SKETCH11_H)
    extrude(amount=BOSS_EXTRUDE7_DEPTH)


solid = part.part
